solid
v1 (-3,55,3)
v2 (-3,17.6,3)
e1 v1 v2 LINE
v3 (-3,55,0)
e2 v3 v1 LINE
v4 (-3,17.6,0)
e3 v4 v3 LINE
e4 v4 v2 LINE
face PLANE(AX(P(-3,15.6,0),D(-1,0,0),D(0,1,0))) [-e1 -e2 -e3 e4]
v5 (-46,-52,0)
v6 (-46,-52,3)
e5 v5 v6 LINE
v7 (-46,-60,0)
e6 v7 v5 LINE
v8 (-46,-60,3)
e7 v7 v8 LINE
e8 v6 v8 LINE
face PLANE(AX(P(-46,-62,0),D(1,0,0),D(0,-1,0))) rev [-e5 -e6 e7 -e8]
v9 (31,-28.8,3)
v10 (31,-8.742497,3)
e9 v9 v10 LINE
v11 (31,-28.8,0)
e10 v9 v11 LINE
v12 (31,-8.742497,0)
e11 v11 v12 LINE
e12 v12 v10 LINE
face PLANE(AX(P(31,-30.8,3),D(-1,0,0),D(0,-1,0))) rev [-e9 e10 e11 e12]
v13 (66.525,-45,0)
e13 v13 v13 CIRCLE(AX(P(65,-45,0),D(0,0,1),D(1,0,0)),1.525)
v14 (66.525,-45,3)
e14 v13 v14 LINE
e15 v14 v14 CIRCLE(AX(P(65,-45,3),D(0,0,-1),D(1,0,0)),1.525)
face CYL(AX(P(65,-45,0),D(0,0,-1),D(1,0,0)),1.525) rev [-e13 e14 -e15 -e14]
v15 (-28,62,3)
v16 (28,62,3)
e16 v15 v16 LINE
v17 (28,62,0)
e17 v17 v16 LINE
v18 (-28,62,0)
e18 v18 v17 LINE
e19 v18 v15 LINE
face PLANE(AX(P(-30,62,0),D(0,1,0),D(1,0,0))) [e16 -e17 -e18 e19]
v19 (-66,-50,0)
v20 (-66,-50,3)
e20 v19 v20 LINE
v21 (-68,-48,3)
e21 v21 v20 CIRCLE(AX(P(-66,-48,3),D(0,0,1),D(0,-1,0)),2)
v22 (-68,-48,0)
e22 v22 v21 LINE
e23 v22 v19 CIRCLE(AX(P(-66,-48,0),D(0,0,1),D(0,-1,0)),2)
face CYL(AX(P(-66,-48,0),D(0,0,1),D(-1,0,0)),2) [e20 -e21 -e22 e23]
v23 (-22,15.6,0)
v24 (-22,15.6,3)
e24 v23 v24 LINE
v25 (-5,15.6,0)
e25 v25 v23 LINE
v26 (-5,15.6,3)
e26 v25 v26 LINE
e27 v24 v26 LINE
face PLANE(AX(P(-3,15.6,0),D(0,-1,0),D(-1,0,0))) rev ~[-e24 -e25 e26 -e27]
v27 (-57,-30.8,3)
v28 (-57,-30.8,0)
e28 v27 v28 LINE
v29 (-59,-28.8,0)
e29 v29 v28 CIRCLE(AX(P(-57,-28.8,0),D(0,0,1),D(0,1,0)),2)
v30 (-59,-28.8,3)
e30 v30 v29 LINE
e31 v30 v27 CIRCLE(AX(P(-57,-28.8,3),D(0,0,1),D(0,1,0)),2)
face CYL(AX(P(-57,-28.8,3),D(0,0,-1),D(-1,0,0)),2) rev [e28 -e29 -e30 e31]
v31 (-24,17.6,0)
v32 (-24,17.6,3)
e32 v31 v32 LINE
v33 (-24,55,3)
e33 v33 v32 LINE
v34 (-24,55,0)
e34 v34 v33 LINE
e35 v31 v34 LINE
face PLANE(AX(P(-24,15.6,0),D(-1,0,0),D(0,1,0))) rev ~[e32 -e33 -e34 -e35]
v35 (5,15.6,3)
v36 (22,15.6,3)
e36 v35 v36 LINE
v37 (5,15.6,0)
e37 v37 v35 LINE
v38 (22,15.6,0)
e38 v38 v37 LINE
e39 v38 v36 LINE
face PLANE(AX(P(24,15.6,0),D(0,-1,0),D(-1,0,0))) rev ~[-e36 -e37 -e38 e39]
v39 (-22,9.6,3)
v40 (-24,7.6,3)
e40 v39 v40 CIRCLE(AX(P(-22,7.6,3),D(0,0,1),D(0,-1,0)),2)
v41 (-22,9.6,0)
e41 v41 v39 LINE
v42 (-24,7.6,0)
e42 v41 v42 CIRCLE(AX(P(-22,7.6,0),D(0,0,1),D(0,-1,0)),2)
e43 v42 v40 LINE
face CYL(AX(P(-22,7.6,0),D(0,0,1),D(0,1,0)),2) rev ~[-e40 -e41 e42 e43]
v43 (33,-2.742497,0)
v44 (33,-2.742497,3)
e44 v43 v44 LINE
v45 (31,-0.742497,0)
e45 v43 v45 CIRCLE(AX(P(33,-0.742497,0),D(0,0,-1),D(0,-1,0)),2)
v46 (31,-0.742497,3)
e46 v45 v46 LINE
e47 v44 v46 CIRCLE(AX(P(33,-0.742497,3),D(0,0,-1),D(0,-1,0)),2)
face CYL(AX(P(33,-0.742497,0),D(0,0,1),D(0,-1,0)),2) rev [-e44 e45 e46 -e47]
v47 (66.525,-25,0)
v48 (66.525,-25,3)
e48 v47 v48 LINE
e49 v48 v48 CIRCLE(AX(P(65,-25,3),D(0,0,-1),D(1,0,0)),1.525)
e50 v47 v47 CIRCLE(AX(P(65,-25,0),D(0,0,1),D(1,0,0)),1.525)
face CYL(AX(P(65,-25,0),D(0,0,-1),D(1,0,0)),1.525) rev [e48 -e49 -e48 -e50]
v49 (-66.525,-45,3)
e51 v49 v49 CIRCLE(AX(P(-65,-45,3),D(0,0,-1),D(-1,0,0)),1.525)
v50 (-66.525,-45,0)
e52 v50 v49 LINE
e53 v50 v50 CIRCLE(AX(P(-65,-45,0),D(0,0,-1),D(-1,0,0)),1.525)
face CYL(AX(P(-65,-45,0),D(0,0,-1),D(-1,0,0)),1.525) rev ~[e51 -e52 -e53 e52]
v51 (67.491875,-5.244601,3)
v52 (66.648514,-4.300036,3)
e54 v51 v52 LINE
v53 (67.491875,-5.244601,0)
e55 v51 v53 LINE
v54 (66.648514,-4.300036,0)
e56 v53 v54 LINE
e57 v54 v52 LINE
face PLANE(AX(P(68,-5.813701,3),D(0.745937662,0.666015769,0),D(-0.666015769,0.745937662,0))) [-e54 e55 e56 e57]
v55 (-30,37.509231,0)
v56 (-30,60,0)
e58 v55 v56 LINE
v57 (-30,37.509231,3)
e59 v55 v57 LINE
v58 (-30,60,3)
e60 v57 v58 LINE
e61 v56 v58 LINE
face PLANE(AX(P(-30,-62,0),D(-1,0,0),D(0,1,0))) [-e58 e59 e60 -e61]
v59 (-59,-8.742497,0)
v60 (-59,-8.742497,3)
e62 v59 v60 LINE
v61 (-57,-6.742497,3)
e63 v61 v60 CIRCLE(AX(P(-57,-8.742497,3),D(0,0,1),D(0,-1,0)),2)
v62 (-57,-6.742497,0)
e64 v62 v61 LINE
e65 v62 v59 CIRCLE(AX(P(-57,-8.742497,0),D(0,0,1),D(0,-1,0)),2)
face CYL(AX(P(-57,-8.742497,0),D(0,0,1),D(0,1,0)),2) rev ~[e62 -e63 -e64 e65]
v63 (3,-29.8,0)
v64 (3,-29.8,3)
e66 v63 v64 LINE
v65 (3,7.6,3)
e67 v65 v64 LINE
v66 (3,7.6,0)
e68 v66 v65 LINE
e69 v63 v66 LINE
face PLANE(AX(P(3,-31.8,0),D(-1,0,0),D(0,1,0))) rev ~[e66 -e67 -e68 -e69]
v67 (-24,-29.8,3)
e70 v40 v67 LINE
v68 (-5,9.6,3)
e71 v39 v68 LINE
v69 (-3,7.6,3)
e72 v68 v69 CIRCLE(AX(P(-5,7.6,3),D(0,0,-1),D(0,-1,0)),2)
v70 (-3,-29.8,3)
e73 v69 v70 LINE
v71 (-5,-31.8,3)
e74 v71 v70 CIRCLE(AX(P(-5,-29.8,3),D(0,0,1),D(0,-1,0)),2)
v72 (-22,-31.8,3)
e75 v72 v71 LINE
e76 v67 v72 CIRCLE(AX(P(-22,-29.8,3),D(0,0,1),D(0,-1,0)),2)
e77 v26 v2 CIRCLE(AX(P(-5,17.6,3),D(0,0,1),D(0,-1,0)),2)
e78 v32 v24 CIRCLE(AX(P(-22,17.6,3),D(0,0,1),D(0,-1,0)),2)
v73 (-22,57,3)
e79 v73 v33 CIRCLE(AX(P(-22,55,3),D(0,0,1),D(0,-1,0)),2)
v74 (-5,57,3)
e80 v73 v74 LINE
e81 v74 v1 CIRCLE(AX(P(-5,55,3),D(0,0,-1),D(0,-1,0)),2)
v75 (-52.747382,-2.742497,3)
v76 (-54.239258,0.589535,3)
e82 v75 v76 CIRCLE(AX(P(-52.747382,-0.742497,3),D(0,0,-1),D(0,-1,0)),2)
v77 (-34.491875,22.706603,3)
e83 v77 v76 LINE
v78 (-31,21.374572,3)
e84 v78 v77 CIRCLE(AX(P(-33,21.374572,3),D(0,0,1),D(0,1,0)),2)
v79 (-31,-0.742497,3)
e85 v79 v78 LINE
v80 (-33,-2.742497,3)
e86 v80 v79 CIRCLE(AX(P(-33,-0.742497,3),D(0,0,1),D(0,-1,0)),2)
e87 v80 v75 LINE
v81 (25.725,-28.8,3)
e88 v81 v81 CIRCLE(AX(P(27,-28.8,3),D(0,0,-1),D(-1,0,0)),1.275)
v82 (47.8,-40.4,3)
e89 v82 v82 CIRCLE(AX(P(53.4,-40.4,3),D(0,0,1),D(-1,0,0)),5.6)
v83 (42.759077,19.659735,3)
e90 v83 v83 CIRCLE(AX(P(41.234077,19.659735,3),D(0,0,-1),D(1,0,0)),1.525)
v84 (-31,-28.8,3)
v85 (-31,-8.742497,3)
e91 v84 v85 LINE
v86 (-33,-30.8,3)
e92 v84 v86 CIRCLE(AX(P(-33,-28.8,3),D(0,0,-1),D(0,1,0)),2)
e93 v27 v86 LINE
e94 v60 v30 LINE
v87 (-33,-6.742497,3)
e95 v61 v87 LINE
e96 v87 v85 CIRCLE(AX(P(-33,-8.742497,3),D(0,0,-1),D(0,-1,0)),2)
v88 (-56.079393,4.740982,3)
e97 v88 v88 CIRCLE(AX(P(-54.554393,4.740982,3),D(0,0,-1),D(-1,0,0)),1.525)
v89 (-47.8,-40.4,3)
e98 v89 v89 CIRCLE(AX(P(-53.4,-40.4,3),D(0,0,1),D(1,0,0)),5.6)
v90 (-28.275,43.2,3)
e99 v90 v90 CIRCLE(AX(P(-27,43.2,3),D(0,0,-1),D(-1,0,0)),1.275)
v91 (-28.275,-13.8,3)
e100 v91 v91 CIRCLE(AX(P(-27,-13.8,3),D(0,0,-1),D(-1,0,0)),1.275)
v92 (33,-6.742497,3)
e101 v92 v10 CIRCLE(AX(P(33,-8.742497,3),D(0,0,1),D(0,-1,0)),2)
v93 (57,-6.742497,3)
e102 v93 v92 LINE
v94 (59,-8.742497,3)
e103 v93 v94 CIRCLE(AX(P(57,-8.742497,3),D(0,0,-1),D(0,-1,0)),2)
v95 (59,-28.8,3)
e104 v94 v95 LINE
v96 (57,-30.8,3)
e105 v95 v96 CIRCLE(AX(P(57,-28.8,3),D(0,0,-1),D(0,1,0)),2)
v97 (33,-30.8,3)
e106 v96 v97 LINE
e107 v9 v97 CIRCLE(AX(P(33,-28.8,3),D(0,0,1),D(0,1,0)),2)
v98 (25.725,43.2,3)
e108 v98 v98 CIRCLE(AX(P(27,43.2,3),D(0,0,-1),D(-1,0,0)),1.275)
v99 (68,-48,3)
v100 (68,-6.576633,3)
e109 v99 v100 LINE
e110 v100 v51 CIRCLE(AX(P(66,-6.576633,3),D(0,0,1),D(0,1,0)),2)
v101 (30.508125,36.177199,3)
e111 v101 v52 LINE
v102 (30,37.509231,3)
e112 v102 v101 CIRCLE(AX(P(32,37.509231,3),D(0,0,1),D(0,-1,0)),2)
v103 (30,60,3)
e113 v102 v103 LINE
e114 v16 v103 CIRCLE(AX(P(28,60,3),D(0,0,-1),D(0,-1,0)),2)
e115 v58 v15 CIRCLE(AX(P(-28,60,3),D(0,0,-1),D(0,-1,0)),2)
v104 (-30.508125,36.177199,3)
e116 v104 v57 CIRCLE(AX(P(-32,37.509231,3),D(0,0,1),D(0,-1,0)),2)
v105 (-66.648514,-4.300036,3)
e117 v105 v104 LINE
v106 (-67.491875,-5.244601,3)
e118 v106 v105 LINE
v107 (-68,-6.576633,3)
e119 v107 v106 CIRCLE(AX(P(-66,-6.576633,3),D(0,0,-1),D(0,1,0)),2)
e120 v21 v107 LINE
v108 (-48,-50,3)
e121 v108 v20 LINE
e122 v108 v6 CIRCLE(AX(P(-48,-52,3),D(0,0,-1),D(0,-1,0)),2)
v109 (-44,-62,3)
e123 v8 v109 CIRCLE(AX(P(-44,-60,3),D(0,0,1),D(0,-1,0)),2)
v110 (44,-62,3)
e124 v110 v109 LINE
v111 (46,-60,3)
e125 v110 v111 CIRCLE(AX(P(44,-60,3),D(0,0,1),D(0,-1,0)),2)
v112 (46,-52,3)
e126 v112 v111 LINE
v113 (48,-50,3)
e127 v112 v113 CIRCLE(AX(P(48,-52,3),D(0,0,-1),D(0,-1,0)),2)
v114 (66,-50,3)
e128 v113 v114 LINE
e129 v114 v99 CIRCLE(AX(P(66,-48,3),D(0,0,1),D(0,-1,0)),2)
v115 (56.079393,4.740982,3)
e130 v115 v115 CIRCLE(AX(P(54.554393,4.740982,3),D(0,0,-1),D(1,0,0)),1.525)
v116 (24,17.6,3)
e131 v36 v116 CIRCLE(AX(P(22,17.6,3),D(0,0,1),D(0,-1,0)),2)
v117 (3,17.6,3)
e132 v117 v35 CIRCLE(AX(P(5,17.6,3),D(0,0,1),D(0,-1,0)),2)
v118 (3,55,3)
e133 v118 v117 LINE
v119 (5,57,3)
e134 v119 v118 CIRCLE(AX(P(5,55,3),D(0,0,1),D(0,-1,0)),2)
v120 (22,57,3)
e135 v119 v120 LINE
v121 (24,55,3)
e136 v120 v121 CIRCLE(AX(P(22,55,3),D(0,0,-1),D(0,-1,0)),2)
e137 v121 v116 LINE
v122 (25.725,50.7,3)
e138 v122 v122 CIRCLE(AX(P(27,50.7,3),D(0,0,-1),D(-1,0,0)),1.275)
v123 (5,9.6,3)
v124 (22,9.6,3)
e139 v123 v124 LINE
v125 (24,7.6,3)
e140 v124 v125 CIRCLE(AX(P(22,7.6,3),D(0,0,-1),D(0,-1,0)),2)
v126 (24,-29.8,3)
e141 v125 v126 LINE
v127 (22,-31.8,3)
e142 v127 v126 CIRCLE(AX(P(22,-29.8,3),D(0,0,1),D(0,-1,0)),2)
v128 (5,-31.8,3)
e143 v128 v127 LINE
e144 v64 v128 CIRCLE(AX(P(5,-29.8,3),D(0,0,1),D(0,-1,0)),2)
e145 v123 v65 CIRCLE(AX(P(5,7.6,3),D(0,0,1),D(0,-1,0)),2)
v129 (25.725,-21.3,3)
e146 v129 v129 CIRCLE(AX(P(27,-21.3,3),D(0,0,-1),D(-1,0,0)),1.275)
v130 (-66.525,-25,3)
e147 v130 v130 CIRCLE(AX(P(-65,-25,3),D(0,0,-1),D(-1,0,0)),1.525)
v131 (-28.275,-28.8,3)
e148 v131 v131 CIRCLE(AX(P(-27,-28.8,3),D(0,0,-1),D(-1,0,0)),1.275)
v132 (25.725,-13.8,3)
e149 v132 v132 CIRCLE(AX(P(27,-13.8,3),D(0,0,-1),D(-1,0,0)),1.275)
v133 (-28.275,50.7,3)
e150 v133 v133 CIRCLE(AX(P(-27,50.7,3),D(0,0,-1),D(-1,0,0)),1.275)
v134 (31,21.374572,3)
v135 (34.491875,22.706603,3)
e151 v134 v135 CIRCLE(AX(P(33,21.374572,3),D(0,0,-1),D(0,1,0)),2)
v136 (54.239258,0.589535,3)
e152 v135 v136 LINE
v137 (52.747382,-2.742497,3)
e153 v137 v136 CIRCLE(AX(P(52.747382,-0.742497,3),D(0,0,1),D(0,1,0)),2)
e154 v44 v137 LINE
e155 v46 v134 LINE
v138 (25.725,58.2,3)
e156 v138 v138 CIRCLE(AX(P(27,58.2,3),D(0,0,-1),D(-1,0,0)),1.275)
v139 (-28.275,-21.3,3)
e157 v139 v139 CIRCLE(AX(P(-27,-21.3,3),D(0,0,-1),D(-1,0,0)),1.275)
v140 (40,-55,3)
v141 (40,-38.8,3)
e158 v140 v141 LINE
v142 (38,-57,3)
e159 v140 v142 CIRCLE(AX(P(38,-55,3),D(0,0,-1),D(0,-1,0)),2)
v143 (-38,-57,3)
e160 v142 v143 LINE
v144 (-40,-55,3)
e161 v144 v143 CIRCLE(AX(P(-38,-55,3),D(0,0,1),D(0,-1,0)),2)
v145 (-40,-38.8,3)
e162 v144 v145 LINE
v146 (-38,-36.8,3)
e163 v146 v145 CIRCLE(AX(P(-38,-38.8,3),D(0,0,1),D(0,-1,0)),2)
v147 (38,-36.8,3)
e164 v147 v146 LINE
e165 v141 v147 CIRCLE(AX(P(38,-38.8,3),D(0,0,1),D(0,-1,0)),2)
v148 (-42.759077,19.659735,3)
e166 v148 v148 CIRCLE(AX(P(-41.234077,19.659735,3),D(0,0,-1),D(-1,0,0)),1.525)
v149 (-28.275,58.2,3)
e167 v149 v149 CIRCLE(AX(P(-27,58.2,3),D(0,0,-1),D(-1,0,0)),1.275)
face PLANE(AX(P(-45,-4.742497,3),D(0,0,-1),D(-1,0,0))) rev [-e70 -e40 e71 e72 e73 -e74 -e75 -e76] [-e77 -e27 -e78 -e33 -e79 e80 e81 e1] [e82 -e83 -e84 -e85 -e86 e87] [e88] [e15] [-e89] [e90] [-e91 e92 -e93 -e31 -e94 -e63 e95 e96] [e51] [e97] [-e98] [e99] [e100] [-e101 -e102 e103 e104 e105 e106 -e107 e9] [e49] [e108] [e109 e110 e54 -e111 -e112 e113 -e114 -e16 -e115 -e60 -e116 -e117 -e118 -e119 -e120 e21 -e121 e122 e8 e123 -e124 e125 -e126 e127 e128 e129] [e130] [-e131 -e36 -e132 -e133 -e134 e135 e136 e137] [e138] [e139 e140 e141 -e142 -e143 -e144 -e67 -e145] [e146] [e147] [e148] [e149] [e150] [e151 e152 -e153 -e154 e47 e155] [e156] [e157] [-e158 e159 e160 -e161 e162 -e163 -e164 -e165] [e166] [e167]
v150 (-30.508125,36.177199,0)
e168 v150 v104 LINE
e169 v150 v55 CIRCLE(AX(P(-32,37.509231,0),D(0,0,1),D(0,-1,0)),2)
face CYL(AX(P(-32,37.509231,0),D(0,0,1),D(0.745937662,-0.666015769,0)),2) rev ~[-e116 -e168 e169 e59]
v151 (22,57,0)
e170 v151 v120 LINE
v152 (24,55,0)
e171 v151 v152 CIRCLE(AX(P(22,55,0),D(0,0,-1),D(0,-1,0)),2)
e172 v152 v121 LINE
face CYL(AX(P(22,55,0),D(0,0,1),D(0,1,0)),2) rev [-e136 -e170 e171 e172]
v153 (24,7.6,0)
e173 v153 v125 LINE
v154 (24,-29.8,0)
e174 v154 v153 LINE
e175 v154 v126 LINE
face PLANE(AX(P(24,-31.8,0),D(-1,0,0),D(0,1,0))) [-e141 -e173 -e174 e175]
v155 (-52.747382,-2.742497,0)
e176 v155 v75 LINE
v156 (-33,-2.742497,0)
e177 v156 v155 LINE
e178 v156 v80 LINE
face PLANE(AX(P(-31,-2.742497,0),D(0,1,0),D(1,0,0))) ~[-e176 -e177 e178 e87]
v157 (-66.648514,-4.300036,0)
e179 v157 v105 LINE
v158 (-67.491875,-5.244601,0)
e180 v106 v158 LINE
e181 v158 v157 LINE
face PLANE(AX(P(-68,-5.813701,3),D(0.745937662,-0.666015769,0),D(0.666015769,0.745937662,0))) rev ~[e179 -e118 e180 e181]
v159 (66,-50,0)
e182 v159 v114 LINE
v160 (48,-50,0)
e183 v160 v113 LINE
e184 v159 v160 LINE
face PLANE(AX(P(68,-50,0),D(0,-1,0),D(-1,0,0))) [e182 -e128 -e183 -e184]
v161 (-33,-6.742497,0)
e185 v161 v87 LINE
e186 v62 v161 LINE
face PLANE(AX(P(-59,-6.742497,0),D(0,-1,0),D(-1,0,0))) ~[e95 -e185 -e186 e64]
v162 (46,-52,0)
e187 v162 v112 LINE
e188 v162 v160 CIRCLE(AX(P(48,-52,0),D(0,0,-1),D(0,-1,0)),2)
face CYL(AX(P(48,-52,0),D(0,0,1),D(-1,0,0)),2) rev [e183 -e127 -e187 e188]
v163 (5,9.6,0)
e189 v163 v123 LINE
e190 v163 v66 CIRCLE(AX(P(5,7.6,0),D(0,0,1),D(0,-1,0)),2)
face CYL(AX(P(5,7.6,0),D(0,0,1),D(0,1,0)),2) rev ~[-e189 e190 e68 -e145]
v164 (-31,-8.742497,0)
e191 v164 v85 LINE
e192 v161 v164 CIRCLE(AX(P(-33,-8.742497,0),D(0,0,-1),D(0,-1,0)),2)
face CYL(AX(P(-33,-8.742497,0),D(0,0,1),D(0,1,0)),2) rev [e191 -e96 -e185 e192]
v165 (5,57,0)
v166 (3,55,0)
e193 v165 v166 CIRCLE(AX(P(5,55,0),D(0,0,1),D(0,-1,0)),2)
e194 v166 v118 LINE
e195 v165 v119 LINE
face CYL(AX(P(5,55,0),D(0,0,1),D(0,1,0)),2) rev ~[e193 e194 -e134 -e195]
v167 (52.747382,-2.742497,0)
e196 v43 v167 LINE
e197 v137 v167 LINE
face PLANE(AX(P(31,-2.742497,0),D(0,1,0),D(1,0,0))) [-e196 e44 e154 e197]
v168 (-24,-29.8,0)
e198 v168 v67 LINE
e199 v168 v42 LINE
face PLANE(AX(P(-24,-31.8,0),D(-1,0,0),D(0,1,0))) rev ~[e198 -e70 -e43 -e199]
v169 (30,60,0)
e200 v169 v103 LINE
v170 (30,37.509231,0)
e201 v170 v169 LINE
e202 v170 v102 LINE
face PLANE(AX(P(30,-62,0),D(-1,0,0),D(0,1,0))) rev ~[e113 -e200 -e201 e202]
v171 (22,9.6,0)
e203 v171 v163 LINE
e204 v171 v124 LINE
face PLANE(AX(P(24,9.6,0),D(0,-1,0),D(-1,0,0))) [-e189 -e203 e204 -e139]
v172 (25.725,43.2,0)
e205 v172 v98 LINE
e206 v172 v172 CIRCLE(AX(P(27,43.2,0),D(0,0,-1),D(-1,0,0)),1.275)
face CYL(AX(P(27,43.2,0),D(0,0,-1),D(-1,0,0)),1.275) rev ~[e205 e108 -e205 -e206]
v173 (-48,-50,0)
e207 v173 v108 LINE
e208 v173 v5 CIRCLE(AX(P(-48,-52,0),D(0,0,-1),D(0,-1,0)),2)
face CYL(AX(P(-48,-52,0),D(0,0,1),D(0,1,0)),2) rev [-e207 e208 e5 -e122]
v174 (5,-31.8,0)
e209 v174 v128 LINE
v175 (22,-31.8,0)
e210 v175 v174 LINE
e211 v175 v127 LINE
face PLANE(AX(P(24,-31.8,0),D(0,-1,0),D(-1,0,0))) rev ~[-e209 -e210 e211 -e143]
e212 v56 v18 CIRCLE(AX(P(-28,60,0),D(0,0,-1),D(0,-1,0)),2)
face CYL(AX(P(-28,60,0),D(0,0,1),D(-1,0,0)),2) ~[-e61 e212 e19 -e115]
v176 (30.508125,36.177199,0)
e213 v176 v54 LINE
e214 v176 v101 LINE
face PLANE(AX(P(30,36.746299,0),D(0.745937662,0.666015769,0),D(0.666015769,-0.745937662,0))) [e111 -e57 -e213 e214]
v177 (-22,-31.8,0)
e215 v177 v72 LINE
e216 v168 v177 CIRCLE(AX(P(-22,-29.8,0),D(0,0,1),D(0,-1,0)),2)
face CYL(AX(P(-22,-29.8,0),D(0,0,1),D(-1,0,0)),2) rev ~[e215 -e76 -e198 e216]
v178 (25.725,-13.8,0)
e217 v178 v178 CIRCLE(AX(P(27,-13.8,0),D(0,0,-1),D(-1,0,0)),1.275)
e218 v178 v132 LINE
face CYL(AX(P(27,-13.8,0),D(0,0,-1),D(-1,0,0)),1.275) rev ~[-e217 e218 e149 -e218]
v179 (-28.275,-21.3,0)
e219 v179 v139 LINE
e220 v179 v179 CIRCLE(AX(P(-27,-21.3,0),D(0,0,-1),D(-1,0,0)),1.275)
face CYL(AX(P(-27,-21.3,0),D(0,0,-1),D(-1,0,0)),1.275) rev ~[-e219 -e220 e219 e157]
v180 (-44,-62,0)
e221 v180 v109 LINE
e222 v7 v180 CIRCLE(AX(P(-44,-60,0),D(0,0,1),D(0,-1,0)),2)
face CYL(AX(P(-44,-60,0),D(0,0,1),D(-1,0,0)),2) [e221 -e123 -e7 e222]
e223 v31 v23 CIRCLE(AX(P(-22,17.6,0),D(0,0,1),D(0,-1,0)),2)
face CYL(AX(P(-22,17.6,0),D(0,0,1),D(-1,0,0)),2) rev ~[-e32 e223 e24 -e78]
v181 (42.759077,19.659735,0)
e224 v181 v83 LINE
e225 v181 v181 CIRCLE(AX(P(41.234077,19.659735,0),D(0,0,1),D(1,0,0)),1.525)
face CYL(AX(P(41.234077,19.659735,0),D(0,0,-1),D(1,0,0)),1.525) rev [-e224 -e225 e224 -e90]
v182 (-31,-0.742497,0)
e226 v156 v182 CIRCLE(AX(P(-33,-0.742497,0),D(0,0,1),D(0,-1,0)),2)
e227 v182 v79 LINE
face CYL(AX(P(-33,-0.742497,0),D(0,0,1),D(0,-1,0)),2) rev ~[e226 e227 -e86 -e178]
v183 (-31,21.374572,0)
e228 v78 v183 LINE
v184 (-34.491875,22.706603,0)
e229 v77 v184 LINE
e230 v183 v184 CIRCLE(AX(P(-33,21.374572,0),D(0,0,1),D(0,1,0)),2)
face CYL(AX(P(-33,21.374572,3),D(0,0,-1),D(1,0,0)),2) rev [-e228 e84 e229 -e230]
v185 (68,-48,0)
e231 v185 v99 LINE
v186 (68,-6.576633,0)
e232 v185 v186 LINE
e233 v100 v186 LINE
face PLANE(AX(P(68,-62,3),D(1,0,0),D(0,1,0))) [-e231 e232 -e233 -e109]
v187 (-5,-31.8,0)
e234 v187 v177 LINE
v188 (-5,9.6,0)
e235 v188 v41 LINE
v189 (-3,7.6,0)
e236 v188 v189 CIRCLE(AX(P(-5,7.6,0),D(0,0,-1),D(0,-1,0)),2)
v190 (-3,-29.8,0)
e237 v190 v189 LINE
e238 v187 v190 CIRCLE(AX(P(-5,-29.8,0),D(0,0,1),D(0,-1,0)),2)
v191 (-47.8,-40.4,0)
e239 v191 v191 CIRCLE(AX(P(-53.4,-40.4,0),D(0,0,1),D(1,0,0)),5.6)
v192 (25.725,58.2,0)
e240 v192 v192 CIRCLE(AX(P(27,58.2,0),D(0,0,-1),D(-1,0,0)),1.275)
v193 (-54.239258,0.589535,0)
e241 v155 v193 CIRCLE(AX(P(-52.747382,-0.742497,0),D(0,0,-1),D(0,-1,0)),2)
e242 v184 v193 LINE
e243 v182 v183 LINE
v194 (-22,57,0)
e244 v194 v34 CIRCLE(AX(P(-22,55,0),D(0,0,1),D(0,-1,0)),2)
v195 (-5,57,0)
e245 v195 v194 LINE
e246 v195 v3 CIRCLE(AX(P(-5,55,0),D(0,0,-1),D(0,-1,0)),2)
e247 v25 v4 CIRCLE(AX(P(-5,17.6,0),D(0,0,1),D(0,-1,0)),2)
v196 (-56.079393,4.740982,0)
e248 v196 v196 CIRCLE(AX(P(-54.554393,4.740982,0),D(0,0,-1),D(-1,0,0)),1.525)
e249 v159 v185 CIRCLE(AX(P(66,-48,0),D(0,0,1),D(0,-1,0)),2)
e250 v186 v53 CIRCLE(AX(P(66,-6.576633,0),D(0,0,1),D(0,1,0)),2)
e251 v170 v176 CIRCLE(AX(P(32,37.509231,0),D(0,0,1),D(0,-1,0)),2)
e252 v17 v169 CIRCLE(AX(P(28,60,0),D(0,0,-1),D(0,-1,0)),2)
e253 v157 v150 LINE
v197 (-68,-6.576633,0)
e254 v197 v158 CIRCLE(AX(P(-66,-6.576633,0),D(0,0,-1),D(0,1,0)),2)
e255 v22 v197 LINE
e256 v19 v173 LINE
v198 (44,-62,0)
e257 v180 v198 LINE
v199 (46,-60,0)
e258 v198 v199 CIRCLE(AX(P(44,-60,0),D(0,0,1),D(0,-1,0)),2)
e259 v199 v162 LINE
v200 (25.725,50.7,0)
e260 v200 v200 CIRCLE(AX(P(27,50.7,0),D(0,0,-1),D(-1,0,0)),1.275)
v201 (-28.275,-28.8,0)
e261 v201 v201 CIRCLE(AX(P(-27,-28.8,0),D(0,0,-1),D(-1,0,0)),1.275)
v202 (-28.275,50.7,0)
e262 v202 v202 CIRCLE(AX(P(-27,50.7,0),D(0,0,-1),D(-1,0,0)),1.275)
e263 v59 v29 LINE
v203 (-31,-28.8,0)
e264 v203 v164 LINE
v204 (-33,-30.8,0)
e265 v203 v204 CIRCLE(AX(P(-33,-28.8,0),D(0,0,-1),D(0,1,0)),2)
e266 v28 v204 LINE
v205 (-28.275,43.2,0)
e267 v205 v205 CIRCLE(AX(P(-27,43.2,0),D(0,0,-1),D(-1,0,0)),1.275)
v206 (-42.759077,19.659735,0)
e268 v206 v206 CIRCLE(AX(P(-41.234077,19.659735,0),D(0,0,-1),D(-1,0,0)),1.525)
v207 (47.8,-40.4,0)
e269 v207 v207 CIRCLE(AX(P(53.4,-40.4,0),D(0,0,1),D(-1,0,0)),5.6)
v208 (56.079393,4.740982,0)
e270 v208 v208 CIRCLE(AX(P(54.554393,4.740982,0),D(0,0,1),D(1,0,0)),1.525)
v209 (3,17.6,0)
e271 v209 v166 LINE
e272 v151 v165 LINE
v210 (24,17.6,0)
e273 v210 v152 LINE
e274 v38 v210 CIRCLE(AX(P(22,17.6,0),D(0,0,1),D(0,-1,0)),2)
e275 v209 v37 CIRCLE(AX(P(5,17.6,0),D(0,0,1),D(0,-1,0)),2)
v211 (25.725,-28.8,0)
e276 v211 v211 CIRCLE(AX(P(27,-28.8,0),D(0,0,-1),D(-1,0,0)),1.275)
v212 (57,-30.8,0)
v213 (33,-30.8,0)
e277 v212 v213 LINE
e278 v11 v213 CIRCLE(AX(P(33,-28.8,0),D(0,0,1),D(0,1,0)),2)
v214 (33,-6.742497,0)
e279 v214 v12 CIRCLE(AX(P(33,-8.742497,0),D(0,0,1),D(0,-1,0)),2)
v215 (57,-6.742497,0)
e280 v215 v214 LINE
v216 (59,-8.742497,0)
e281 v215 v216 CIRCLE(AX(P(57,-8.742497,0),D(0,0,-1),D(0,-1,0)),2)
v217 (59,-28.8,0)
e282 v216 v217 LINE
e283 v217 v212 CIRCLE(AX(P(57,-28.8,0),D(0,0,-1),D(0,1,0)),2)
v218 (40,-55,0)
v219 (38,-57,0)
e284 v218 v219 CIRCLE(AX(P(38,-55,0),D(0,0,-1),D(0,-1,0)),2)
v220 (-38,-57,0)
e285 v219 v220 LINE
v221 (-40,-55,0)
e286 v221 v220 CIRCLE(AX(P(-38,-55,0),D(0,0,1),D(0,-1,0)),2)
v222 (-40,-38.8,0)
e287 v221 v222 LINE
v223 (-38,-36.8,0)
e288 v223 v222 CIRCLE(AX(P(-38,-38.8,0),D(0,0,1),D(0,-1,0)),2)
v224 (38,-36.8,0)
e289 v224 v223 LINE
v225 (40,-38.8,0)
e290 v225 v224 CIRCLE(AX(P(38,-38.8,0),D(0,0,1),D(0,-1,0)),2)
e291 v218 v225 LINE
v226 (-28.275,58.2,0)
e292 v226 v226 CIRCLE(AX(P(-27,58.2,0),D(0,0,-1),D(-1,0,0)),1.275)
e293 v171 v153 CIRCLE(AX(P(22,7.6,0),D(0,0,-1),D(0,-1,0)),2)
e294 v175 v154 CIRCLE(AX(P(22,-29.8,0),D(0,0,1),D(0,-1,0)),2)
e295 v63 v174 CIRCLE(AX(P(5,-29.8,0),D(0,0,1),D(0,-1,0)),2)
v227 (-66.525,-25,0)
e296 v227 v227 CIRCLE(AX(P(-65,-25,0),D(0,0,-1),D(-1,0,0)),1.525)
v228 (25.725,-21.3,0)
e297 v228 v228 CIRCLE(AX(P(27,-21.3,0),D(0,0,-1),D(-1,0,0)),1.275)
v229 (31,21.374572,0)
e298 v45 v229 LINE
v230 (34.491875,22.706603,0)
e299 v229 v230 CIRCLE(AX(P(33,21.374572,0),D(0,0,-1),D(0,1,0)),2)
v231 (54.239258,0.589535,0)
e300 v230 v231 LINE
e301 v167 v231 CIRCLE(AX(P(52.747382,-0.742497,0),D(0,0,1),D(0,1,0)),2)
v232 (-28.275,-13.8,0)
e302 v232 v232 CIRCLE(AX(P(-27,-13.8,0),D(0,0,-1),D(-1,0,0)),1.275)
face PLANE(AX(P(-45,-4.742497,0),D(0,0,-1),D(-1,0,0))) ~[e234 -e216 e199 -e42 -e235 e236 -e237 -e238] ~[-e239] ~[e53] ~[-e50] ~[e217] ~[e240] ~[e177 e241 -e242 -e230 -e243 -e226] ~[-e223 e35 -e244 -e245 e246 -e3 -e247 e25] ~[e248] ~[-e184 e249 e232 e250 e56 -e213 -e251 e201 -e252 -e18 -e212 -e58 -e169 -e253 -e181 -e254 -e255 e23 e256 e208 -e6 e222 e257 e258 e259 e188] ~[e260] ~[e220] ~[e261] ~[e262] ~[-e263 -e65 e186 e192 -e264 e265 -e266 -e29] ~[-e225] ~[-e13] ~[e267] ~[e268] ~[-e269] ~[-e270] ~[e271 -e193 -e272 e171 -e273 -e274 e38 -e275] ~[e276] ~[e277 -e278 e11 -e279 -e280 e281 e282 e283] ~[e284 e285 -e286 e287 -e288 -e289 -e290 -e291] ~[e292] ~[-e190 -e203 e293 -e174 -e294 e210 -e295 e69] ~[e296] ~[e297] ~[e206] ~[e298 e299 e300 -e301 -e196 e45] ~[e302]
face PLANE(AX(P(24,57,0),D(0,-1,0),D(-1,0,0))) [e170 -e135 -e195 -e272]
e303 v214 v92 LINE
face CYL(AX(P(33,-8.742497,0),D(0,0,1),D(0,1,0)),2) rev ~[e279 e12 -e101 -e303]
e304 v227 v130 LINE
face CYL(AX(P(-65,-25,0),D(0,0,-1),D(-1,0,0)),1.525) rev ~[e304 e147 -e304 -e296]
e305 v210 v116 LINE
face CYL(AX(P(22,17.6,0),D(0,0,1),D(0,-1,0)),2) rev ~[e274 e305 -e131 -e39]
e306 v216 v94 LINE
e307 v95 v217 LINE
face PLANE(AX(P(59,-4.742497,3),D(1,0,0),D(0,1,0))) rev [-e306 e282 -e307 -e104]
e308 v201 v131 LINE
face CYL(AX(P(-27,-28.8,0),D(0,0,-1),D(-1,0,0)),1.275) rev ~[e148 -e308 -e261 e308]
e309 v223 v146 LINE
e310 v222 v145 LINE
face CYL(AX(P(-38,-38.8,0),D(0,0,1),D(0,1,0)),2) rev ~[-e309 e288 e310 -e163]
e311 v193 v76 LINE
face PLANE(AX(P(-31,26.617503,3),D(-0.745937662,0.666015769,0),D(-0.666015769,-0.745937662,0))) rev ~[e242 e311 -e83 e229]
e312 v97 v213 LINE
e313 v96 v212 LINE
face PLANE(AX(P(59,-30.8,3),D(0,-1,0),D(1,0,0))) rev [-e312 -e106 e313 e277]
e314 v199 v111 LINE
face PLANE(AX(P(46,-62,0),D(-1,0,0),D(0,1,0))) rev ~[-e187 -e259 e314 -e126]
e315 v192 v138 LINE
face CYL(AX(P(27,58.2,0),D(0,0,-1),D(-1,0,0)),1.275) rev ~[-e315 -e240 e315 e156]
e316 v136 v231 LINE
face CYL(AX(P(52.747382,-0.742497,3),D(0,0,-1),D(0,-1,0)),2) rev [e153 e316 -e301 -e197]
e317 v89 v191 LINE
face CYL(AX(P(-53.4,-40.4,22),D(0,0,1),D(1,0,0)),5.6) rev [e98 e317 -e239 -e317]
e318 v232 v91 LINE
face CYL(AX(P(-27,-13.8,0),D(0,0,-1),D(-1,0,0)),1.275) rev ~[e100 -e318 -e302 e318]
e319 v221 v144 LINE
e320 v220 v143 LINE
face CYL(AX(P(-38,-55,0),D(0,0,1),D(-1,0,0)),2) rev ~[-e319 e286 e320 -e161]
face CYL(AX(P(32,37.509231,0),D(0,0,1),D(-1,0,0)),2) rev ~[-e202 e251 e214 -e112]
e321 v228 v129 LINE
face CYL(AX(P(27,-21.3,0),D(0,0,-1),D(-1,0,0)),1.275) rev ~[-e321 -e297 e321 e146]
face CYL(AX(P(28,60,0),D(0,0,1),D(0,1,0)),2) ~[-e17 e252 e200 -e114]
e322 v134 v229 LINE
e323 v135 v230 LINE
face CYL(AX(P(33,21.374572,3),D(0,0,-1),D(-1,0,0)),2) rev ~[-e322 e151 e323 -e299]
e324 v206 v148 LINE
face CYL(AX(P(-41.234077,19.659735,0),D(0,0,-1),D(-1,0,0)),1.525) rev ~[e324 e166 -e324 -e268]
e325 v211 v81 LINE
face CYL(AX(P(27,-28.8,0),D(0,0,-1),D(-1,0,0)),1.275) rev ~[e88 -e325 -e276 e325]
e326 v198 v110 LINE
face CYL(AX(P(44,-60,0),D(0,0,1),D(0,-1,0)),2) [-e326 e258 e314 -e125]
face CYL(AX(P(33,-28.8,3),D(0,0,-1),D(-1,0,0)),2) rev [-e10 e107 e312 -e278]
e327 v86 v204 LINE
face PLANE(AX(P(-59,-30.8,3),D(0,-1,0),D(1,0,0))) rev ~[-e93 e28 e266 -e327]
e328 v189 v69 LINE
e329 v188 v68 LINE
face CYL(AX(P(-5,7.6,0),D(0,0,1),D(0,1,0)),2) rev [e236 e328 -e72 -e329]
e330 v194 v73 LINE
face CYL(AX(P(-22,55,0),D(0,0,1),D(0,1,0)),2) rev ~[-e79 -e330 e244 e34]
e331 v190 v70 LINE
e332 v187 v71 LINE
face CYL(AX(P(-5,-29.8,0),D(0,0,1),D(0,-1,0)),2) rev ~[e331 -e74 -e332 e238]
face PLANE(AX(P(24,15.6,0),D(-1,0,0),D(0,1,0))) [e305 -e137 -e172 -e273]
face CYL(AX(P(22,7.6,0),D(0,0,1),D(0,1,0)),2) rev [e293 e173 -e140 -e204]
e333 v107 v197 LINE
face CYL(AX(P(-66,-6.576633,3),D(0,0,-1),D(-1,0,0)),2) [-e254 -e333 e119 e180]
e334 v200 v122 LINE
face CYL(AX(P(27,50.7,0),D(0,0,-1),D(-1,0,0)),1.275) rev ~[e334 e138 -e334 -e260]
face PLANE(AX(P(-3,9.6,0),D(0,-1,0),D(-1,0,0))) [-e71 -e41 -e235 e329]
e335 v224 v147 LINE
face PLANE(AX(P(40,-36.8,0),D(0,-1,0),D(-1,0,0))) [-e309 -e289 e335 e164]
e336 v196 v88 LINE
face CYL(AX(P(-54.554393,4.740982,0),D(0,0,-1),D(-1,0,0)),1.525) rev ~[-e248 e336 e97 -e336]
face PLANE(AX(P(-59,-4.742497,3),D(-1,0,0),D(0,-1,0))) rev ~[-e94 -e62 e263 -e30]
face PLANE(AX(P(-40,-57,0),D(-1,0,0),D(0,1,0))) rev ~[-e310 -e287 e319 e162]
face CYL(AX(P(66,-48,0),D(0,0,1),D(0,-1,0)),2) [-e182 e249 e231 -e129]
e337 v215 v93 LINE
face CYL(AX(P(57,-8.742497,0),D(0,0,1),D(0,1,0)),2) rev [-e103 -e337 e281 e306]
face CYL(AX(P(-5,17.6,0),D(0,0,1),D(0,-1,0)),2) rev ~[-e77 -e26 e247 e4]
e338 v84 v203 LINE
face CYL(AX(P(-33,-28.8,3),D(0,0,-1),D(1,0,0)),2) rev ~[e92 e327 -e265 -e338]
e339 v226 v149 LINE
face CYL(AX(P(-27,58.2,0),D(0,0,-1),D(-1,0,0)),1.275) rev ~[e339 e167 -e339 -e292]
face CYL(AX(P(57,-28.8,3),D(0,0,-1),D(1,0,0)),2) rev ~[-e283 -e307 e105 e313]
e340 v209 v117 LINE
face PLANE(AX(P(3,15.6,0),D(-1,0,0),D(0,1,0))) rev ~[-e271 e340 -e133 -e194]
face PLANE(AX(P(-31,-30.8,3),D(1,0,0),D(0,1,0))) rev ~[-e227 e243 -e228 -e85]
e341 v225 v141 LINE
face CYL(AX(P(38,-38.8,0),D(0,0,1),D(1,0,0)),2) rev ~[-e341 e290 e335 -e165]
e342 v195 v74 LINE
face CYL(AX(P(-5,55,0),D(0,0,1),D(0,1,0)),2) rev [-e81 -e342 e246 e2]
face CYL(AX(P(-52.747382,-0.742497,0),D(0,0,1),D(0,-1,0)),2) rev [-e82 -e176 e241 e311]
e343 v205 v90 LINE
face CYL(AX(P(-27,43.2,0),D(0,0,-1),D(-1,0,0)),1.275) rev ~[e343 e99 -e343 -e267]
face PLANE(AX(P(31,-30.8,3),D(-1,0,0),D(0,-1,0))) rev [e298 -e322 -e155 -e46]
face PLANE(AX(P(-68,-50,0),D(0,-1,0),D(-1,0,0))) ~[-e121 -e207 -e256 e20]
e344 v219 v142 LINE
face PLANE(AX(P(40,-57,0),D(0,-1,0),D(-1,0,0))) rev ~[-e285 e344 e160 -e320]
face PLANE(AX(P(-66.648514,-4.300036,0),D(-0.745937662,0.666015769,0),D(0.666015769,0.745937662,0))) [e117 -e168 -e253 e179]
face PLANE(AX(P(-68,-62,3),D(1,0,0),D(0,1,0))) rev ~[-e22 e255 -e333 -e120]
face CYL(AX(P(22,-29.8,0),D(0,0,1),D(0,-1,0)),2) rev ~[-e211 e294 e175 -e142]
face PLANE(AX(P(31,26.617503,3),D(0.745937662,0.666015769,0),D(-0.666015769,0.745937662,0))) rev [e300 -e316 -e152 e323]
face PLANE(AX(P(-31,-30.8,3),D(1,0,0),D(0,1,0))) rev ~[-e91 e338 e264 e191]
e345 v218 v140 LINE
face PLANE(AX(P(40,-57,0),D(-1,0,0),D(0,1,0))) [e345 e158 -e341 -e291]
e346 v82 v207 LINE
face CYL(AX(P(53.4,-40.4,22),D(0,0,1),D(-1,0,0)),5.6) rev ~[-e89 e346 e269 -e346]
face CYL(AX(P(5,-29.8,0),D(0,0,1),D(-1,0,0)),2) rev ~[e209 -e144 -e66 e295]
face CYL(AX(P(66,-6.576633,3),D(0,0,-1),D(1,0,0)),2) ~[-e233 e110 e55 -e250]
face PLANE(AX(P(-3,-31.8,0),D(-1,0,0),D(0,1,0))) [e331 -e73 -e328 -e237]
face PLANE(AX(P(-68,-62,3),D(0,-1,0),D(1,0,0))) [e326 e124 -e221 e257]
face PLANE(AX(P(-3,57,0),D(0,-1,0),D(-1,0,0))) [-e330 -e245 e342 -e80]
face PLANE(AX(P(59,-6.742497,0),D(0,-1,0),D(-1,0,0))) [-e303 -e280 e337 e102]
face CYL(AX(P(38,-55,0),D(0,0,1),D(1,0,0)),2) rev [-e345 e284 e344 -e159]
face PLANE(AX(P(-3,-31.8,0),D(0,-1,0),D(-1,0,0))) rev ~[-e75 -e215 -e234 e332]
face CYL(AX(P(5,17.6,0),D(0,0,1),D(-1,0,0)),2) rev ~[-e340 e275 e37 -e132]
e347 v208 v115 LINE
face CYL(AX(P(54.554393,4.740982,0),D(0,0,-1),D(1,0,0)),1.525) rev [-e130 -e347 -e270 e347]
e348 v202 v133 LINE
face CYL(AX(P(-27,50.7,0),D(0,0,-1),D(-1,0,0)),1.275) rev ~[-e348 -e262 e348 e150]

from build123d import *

# Parameters (mm, degrees)
SKETCH_1_W             = 60
SKETCH_1_H             = 124
EXTRUDE_1_DEPTH        = 3
EXTRUDE_2_DEPTH        = 3
SKETCH_3_W             = 136
SKETCH_3_H             = 57.699964
EXTRUDE_3_DEPTH        = 3
CUT_EXTRUDE_1_DEPTH    = 3
SKETCH_5_W             = 22
SKETCH_5_H             = 12
CUT_EXTRUDE_2_DEPTH    = 10
SKETCH_6_R             = 1.275
CUT_EXTRUDE_3_DEPTH    = 10
PATTERN_LINEAR_1_COUNT = 2
PATTERN_LINEAR_1_PITCH = 7.5
PATTERN_LINEAR_2_COUNT = 2
PATTERN_LINEAR_2_PITCH = 7.5
SKETCH_7_R             = 1.525
CUT_EXTRUDE_4_DEPTH    = 10
FILLET_1_R             = 2
SKETCH_8_W             = 21
SKETCH_8_H             = 41.4
CUT_EXTRUDE_5_DEPTH    = 22
FILLET_2_R             = 2
SKETCH_10_W            = 80
SKETCH_10_H            = 20.2
CUT_EXTRUDE_6_DEPTH    = 3
FILLET_3_R             = 2
CUT_EXTRUDE_7_DEPTH    = 3
EXTRUDE_5_DEPTH        = 3
CUT_EXTRUDE_START      = -22
SKETCH_13_R            = 5.6
CUT_EXTRUDE_8_DEPTH    = 115.070625066
FILLET_4_R             = 2


with BuildPart() as part:
    # 草图1 → 凸台-拉伸1 (new body)
    with BuildSketch(Plane.XY):
        Rectangle(SKETCH_1_W, SKETCH_1_H)
    extrude(amount=EXTRUDE_1_DEPTH)

    # 草图2 → 凸台-拉伸2 (add)
    with BuildSketch(Plane(origin=(0, 0, 0), x_dir=(-1, 0, 0), z_dir=(0, 0, -1))):
        Polygon((-66.648513504, -4.300036), (66.648513504, -4.300036), (30, 36.746299124), (-30, 36.746299124), align=None)
    extrude(amount=-EXTRUDE_2_DEPTH)

    # 草图3 → 凸台-拉伸3 (add)
    with BuildSketch(Plane.XY.offset(3)):
        with Locations((0, -33.150018)):
            Rectangle(SKETCH_3_W, SKETCH_3_H)
    extrude(amount=-EXTRUDE_3_DEPTH)

    # 草图4 → 切除-拉伸1 (cut)
    with BuildSketch(Plane.XY.offset(3)):
        Polygon((68, -4.300036), (68, -5.813700876), (66.648513504, -4.300036), align=None)
        Polygon((-66.648513504, -4.300036), (-68, -4.300036), (-68, -5.813700876), align=None)
    extrude(amount=-CUT_EXTRUDE_1_DEPTH, mode=Mode.SUBTRACT)

    # 草图5 → 切除-拉伸2 (cut)
    with BuildSketch(Plane(origin=(0, 0, 0), x_dir=(-1, 0, 0), z_dir=(0, 0, -1))):
        with Locations((-57, -56)):
            Rectangle(SKETCH_5_W, SKETCH_5_H)
    cut_extrude_2 = extrude(amount=-CUT_EXTRUDE_2_DEPTH, mode=Mode.SUBTRACT)

    # 镜向1: 切除-拉伸2 across plane
    add(cut_extrude_2.mirror(Plane(origin=(0, 0, 0), x_dir=(0, 0, 1), z_dir=(1, 0, 0))), mode=Mode.SUBTRACT)

    # 草图6 → 切除-拉伸3 (cut)
    with BuildSketch(Plane(origin=(0, 0, 0), x_dir=(-1, 0, 0), z_dir=(0, 0, -1))):
        with Locations((-27, 50.7)):
            Circle(SKETCH_6_R)
        with Locations((27, 50.7)):
            Circle(SKETCH_6_R)
        with Locations((27, -21.3)):
            Circle(SKETCH_6_R)
        with Locations((-27, -21.3)):
            Circle(SKETCH_6_R)
    cut_extrude_3 = extrude(amount=-CUT_EXTRUDE_3_DEPTH, mode=Mode.SUBTRACT)

    # 阵列(线性)1: 切除-拉伸3 ×2
    with Locations(*[(0, i * PATTERN_LINEAR_1_PITCH, 0) for i in range(1, PATTERN_LINEAR_1_COUNT)]):
        add(cut_extrude_3, mode=Mode.SUBTRACT)

    # 阵列(线性)2: 切除-拉伸3 ×2
    with Locations(*[(0, -i * PATTERN_LINEAR_2_PITCH, 0) for i in range(1, PATTERN_LINEAR_2_COUNT)]):
        add(cut_extrude_3, mode=Mode.SUBTRACT)

    # 草图7 → 切除-拉伸4 (cut)
    with BuildSketch(Plane(origin=(0, 0, 0), x_dir=(-1, 0, 0), z_dir=(0, 0, -1))):
        with Locations((65, -45)):
            Circle(SKETCH_7_R)
        with Locations((65, -25)):
            Circle(SKETCH_7_R)
        with Locations((41.234077164, 19.659734849)):
            Circle(SKETCH_7_R)
        with Locations((54.554392551, 4.740981616)):
            Circle(SKETCH_7_R)
    cut_extrude_4 = extrude(amount=-CUT_EXTRUDE_4_DEPTH, mode=Mode.SUBTRACT)

    # 镜向2: 切除-拉伸4 across plane
    add(cut_extrude_4.mirror(Plane(origin=(0, 0, 0), x_dir=(0, 0, 1), z_dir=(1, 0, 0))), mode=Mode.SUBTRACT)

    # 圆角1
    fillet_1_edges = [part.edges().sort_by_distance(p)[0] for p in [
        (-68, -50, 1.5),
        (-46, -62, 1.5),
        (-46, -50, 1.5),
        (-30, 36.746299124, 1.5),
        (30, 36.746299124, 1.5),
        (68, -5.813700876, 1.5),
        (-68, -5.813700876, 1.5),
        (-30, 62, 1.5),
        (30, 62, 1.5),
        (68, -50, 1.5),
        (46, -50, 1.5),
        (46, -62, 1.5),
    ]]
    fillet(fillet_1_edges, radius=FILLET_1_R)

    # 草图8 → 切除-拉伸5 (cut)
    with BuildSketch(Plane(origin=(0, 0, 0), x_dir=(-1, 0, 0), z_dir=(0, 0, -1))):
        with Locations((-13.5, -11.1)):
            Rectangle(SKETCH_8_W, SKETCH_8_H)
        with Locations((13.5, -11.1)):
            Rectangle(SKETCH_8_W, SKETCH_8_H)
        with Locations((13.5, 36.3)):
            Rectangle(SKETCH_8_W, SKETCH_8_H)
        with Locations((-13.5, 36.3)):
            Rectangle(SKETCH_8_W, SKETCH_8_H)
    extrude(amount=-CUT_EXTRUDE_5_DEPTH, mode=Mode.SUBTRACT)

    # 圆角2
    fillet_2_edges = [part.edges().sort_by_distance(p)[0] for p in [
        (24, 15.6, 1.5),
        (24, 57, 1.5),
        (3, 57, 1.5),
        (3, 15.6, 1.5),
        (-3, 57, 1.5),
        (-24, 57, 1.5),
        (-24, 15.6, 1.5),
        (-3, 15.6, 1.5),
        (-3, 9.6, 1.5),
        (-24, 9.6, 1.5),
        (-24, -31.8, 1.5),
        (-3, -31.8, 1.5),
        (3, 9.6, 1.5),
        (3, -31.8, 1.5),
        (24, -31.8, 1.5),
        (24, 9.6, 1.5),
    ]]
    fillet(fillet_2_edges, radius=FILLET_2_R)

    # 草图10 → 切除-拉伸6 (cut)
    with BuildSketch(Plane(origin=(0, 0, 0), x_dir=(-1, 0, 0), z_dir=(0, 0, -1))):
        with Locations((0, -46.9)):
            Rectangle(SKETCH_10_W, SKETCH_10_H)
    extrude(amount=-CUT_EXTRUDE_6_DEPTH, mode=Mode.SUBTRACT)

    # 圆角3
    fillet_3_edges = [part.edges().sort_by_distance(p)[0] for p in [
        (-40, -36.8, 1.5),
        (-40, -57, 1.5),
        (40, -57, 1.5),
        (40, -36.8, 1.5),
    ]]
    fillet(fillet_3_edges, radius=FILLET_3_R)

    # 草图11 → 切除-拉伸7 (cut)
    with BuildSketch(Plane.XY.offset(3)):
        Polygon((-31, 26.617503422), (-59, -4.742496578), (-59, -30.8), (-31, -30.8), align=None)
    cut_extrude_7 = extrude(amount=-CUT_EXTRUDE_7_DEPTH, mode=Mode.SUBTRACT)

    # 镜向3: 切除-拉伸7 across plane
    add(cut_extrude_7.mirror(Plane(origin=(0, 0, 0), x_dir=(0, 0, 1), z_dir=(1, 0, 0))), mode=Mode.SUBTRACT)

    # 草图12 → 凸台-拉伸5 (add)
    with BuildSketch(Plane(origin=(0, 0, 0), x_dir=(-1, 0, 0), z_dir=(0, 0, -1))):
        with BuildLine():
            Line((-59, -6.742496578), (-31, -6.742496578))
            ThreePointArc((-31, -6.742496578), (-29, -4.742496578), (-31, -2.742496578))
            Line((-31, -2.742496578), (-59, -2.742496578))
            ThreePointArc((-59, -2.742496578), (-61, -4.742496578), (-59, -6.742496578))
        make_face()
    extrude_5 = extrude(amount=-EXTRUDE_5_DEPTH)

    # 镜向4: 凸台-拉伸5 across plane
    add(extrude_5.mirror(Plane(origin=(0, 0, 0), x_dir=(0, 0, 1), z_dir=(1, 0, 0))))

    # 草图13 → 切除-拉伸8 (cut)
    with BuildSketch(Plane(origin=(0, 0, 0), x_dir=(-1, 0, 0), z_dir=(0, 0, -1)).offset(CUT_EXTRUDE_START)):
        with Locations(Location((53.4, -40.4, 0), (0, 0, 180))):
            Circle(SKETCH_13_R)
    cut_extrude_8 = extrude(amount=CUT_EXTRUDE_8_DEPTH, mode=Mode.SUBTRACT)

    # 镜向5: 切除-拉伸8 across plane
    add(cut_extrude_8.mirror(Plane(origin=(0, 0, 0), x_dir=(0, 0, 1), z_dir=(1, 0, 0))), mode=Mode.SUBTRACT)

    # 圆角4
    fillet_4_edges = [part.edges().sort_by_distance(p)[0] for p in [
        (-59, -30.8, 1.5),
        (-31, -30.8, 1.5),
        (-31, 26.617503422, 1.5),
        (31, -30.8, 1.5),
        (31, 26.617503422, 1.5),
        (59, -30.8, 1.5),
        (57.214285714, -2.742496578, 1.5),
        (59, -6.742496578, 1.5),
        (31, -2.742496578, 1.5),
        (31, -6.742496578, 1.5),
        (-57.214285714, -2.742496578, 1.5),
        (-31, -2.742496578, 1.5),
        (-31, -6.742496578, 1.5),
        (-59, -6.742496578, 1.5),
    ]]
    fillet(fillet_4_edges, radius=FILLET_4_R)


solid = part.part
